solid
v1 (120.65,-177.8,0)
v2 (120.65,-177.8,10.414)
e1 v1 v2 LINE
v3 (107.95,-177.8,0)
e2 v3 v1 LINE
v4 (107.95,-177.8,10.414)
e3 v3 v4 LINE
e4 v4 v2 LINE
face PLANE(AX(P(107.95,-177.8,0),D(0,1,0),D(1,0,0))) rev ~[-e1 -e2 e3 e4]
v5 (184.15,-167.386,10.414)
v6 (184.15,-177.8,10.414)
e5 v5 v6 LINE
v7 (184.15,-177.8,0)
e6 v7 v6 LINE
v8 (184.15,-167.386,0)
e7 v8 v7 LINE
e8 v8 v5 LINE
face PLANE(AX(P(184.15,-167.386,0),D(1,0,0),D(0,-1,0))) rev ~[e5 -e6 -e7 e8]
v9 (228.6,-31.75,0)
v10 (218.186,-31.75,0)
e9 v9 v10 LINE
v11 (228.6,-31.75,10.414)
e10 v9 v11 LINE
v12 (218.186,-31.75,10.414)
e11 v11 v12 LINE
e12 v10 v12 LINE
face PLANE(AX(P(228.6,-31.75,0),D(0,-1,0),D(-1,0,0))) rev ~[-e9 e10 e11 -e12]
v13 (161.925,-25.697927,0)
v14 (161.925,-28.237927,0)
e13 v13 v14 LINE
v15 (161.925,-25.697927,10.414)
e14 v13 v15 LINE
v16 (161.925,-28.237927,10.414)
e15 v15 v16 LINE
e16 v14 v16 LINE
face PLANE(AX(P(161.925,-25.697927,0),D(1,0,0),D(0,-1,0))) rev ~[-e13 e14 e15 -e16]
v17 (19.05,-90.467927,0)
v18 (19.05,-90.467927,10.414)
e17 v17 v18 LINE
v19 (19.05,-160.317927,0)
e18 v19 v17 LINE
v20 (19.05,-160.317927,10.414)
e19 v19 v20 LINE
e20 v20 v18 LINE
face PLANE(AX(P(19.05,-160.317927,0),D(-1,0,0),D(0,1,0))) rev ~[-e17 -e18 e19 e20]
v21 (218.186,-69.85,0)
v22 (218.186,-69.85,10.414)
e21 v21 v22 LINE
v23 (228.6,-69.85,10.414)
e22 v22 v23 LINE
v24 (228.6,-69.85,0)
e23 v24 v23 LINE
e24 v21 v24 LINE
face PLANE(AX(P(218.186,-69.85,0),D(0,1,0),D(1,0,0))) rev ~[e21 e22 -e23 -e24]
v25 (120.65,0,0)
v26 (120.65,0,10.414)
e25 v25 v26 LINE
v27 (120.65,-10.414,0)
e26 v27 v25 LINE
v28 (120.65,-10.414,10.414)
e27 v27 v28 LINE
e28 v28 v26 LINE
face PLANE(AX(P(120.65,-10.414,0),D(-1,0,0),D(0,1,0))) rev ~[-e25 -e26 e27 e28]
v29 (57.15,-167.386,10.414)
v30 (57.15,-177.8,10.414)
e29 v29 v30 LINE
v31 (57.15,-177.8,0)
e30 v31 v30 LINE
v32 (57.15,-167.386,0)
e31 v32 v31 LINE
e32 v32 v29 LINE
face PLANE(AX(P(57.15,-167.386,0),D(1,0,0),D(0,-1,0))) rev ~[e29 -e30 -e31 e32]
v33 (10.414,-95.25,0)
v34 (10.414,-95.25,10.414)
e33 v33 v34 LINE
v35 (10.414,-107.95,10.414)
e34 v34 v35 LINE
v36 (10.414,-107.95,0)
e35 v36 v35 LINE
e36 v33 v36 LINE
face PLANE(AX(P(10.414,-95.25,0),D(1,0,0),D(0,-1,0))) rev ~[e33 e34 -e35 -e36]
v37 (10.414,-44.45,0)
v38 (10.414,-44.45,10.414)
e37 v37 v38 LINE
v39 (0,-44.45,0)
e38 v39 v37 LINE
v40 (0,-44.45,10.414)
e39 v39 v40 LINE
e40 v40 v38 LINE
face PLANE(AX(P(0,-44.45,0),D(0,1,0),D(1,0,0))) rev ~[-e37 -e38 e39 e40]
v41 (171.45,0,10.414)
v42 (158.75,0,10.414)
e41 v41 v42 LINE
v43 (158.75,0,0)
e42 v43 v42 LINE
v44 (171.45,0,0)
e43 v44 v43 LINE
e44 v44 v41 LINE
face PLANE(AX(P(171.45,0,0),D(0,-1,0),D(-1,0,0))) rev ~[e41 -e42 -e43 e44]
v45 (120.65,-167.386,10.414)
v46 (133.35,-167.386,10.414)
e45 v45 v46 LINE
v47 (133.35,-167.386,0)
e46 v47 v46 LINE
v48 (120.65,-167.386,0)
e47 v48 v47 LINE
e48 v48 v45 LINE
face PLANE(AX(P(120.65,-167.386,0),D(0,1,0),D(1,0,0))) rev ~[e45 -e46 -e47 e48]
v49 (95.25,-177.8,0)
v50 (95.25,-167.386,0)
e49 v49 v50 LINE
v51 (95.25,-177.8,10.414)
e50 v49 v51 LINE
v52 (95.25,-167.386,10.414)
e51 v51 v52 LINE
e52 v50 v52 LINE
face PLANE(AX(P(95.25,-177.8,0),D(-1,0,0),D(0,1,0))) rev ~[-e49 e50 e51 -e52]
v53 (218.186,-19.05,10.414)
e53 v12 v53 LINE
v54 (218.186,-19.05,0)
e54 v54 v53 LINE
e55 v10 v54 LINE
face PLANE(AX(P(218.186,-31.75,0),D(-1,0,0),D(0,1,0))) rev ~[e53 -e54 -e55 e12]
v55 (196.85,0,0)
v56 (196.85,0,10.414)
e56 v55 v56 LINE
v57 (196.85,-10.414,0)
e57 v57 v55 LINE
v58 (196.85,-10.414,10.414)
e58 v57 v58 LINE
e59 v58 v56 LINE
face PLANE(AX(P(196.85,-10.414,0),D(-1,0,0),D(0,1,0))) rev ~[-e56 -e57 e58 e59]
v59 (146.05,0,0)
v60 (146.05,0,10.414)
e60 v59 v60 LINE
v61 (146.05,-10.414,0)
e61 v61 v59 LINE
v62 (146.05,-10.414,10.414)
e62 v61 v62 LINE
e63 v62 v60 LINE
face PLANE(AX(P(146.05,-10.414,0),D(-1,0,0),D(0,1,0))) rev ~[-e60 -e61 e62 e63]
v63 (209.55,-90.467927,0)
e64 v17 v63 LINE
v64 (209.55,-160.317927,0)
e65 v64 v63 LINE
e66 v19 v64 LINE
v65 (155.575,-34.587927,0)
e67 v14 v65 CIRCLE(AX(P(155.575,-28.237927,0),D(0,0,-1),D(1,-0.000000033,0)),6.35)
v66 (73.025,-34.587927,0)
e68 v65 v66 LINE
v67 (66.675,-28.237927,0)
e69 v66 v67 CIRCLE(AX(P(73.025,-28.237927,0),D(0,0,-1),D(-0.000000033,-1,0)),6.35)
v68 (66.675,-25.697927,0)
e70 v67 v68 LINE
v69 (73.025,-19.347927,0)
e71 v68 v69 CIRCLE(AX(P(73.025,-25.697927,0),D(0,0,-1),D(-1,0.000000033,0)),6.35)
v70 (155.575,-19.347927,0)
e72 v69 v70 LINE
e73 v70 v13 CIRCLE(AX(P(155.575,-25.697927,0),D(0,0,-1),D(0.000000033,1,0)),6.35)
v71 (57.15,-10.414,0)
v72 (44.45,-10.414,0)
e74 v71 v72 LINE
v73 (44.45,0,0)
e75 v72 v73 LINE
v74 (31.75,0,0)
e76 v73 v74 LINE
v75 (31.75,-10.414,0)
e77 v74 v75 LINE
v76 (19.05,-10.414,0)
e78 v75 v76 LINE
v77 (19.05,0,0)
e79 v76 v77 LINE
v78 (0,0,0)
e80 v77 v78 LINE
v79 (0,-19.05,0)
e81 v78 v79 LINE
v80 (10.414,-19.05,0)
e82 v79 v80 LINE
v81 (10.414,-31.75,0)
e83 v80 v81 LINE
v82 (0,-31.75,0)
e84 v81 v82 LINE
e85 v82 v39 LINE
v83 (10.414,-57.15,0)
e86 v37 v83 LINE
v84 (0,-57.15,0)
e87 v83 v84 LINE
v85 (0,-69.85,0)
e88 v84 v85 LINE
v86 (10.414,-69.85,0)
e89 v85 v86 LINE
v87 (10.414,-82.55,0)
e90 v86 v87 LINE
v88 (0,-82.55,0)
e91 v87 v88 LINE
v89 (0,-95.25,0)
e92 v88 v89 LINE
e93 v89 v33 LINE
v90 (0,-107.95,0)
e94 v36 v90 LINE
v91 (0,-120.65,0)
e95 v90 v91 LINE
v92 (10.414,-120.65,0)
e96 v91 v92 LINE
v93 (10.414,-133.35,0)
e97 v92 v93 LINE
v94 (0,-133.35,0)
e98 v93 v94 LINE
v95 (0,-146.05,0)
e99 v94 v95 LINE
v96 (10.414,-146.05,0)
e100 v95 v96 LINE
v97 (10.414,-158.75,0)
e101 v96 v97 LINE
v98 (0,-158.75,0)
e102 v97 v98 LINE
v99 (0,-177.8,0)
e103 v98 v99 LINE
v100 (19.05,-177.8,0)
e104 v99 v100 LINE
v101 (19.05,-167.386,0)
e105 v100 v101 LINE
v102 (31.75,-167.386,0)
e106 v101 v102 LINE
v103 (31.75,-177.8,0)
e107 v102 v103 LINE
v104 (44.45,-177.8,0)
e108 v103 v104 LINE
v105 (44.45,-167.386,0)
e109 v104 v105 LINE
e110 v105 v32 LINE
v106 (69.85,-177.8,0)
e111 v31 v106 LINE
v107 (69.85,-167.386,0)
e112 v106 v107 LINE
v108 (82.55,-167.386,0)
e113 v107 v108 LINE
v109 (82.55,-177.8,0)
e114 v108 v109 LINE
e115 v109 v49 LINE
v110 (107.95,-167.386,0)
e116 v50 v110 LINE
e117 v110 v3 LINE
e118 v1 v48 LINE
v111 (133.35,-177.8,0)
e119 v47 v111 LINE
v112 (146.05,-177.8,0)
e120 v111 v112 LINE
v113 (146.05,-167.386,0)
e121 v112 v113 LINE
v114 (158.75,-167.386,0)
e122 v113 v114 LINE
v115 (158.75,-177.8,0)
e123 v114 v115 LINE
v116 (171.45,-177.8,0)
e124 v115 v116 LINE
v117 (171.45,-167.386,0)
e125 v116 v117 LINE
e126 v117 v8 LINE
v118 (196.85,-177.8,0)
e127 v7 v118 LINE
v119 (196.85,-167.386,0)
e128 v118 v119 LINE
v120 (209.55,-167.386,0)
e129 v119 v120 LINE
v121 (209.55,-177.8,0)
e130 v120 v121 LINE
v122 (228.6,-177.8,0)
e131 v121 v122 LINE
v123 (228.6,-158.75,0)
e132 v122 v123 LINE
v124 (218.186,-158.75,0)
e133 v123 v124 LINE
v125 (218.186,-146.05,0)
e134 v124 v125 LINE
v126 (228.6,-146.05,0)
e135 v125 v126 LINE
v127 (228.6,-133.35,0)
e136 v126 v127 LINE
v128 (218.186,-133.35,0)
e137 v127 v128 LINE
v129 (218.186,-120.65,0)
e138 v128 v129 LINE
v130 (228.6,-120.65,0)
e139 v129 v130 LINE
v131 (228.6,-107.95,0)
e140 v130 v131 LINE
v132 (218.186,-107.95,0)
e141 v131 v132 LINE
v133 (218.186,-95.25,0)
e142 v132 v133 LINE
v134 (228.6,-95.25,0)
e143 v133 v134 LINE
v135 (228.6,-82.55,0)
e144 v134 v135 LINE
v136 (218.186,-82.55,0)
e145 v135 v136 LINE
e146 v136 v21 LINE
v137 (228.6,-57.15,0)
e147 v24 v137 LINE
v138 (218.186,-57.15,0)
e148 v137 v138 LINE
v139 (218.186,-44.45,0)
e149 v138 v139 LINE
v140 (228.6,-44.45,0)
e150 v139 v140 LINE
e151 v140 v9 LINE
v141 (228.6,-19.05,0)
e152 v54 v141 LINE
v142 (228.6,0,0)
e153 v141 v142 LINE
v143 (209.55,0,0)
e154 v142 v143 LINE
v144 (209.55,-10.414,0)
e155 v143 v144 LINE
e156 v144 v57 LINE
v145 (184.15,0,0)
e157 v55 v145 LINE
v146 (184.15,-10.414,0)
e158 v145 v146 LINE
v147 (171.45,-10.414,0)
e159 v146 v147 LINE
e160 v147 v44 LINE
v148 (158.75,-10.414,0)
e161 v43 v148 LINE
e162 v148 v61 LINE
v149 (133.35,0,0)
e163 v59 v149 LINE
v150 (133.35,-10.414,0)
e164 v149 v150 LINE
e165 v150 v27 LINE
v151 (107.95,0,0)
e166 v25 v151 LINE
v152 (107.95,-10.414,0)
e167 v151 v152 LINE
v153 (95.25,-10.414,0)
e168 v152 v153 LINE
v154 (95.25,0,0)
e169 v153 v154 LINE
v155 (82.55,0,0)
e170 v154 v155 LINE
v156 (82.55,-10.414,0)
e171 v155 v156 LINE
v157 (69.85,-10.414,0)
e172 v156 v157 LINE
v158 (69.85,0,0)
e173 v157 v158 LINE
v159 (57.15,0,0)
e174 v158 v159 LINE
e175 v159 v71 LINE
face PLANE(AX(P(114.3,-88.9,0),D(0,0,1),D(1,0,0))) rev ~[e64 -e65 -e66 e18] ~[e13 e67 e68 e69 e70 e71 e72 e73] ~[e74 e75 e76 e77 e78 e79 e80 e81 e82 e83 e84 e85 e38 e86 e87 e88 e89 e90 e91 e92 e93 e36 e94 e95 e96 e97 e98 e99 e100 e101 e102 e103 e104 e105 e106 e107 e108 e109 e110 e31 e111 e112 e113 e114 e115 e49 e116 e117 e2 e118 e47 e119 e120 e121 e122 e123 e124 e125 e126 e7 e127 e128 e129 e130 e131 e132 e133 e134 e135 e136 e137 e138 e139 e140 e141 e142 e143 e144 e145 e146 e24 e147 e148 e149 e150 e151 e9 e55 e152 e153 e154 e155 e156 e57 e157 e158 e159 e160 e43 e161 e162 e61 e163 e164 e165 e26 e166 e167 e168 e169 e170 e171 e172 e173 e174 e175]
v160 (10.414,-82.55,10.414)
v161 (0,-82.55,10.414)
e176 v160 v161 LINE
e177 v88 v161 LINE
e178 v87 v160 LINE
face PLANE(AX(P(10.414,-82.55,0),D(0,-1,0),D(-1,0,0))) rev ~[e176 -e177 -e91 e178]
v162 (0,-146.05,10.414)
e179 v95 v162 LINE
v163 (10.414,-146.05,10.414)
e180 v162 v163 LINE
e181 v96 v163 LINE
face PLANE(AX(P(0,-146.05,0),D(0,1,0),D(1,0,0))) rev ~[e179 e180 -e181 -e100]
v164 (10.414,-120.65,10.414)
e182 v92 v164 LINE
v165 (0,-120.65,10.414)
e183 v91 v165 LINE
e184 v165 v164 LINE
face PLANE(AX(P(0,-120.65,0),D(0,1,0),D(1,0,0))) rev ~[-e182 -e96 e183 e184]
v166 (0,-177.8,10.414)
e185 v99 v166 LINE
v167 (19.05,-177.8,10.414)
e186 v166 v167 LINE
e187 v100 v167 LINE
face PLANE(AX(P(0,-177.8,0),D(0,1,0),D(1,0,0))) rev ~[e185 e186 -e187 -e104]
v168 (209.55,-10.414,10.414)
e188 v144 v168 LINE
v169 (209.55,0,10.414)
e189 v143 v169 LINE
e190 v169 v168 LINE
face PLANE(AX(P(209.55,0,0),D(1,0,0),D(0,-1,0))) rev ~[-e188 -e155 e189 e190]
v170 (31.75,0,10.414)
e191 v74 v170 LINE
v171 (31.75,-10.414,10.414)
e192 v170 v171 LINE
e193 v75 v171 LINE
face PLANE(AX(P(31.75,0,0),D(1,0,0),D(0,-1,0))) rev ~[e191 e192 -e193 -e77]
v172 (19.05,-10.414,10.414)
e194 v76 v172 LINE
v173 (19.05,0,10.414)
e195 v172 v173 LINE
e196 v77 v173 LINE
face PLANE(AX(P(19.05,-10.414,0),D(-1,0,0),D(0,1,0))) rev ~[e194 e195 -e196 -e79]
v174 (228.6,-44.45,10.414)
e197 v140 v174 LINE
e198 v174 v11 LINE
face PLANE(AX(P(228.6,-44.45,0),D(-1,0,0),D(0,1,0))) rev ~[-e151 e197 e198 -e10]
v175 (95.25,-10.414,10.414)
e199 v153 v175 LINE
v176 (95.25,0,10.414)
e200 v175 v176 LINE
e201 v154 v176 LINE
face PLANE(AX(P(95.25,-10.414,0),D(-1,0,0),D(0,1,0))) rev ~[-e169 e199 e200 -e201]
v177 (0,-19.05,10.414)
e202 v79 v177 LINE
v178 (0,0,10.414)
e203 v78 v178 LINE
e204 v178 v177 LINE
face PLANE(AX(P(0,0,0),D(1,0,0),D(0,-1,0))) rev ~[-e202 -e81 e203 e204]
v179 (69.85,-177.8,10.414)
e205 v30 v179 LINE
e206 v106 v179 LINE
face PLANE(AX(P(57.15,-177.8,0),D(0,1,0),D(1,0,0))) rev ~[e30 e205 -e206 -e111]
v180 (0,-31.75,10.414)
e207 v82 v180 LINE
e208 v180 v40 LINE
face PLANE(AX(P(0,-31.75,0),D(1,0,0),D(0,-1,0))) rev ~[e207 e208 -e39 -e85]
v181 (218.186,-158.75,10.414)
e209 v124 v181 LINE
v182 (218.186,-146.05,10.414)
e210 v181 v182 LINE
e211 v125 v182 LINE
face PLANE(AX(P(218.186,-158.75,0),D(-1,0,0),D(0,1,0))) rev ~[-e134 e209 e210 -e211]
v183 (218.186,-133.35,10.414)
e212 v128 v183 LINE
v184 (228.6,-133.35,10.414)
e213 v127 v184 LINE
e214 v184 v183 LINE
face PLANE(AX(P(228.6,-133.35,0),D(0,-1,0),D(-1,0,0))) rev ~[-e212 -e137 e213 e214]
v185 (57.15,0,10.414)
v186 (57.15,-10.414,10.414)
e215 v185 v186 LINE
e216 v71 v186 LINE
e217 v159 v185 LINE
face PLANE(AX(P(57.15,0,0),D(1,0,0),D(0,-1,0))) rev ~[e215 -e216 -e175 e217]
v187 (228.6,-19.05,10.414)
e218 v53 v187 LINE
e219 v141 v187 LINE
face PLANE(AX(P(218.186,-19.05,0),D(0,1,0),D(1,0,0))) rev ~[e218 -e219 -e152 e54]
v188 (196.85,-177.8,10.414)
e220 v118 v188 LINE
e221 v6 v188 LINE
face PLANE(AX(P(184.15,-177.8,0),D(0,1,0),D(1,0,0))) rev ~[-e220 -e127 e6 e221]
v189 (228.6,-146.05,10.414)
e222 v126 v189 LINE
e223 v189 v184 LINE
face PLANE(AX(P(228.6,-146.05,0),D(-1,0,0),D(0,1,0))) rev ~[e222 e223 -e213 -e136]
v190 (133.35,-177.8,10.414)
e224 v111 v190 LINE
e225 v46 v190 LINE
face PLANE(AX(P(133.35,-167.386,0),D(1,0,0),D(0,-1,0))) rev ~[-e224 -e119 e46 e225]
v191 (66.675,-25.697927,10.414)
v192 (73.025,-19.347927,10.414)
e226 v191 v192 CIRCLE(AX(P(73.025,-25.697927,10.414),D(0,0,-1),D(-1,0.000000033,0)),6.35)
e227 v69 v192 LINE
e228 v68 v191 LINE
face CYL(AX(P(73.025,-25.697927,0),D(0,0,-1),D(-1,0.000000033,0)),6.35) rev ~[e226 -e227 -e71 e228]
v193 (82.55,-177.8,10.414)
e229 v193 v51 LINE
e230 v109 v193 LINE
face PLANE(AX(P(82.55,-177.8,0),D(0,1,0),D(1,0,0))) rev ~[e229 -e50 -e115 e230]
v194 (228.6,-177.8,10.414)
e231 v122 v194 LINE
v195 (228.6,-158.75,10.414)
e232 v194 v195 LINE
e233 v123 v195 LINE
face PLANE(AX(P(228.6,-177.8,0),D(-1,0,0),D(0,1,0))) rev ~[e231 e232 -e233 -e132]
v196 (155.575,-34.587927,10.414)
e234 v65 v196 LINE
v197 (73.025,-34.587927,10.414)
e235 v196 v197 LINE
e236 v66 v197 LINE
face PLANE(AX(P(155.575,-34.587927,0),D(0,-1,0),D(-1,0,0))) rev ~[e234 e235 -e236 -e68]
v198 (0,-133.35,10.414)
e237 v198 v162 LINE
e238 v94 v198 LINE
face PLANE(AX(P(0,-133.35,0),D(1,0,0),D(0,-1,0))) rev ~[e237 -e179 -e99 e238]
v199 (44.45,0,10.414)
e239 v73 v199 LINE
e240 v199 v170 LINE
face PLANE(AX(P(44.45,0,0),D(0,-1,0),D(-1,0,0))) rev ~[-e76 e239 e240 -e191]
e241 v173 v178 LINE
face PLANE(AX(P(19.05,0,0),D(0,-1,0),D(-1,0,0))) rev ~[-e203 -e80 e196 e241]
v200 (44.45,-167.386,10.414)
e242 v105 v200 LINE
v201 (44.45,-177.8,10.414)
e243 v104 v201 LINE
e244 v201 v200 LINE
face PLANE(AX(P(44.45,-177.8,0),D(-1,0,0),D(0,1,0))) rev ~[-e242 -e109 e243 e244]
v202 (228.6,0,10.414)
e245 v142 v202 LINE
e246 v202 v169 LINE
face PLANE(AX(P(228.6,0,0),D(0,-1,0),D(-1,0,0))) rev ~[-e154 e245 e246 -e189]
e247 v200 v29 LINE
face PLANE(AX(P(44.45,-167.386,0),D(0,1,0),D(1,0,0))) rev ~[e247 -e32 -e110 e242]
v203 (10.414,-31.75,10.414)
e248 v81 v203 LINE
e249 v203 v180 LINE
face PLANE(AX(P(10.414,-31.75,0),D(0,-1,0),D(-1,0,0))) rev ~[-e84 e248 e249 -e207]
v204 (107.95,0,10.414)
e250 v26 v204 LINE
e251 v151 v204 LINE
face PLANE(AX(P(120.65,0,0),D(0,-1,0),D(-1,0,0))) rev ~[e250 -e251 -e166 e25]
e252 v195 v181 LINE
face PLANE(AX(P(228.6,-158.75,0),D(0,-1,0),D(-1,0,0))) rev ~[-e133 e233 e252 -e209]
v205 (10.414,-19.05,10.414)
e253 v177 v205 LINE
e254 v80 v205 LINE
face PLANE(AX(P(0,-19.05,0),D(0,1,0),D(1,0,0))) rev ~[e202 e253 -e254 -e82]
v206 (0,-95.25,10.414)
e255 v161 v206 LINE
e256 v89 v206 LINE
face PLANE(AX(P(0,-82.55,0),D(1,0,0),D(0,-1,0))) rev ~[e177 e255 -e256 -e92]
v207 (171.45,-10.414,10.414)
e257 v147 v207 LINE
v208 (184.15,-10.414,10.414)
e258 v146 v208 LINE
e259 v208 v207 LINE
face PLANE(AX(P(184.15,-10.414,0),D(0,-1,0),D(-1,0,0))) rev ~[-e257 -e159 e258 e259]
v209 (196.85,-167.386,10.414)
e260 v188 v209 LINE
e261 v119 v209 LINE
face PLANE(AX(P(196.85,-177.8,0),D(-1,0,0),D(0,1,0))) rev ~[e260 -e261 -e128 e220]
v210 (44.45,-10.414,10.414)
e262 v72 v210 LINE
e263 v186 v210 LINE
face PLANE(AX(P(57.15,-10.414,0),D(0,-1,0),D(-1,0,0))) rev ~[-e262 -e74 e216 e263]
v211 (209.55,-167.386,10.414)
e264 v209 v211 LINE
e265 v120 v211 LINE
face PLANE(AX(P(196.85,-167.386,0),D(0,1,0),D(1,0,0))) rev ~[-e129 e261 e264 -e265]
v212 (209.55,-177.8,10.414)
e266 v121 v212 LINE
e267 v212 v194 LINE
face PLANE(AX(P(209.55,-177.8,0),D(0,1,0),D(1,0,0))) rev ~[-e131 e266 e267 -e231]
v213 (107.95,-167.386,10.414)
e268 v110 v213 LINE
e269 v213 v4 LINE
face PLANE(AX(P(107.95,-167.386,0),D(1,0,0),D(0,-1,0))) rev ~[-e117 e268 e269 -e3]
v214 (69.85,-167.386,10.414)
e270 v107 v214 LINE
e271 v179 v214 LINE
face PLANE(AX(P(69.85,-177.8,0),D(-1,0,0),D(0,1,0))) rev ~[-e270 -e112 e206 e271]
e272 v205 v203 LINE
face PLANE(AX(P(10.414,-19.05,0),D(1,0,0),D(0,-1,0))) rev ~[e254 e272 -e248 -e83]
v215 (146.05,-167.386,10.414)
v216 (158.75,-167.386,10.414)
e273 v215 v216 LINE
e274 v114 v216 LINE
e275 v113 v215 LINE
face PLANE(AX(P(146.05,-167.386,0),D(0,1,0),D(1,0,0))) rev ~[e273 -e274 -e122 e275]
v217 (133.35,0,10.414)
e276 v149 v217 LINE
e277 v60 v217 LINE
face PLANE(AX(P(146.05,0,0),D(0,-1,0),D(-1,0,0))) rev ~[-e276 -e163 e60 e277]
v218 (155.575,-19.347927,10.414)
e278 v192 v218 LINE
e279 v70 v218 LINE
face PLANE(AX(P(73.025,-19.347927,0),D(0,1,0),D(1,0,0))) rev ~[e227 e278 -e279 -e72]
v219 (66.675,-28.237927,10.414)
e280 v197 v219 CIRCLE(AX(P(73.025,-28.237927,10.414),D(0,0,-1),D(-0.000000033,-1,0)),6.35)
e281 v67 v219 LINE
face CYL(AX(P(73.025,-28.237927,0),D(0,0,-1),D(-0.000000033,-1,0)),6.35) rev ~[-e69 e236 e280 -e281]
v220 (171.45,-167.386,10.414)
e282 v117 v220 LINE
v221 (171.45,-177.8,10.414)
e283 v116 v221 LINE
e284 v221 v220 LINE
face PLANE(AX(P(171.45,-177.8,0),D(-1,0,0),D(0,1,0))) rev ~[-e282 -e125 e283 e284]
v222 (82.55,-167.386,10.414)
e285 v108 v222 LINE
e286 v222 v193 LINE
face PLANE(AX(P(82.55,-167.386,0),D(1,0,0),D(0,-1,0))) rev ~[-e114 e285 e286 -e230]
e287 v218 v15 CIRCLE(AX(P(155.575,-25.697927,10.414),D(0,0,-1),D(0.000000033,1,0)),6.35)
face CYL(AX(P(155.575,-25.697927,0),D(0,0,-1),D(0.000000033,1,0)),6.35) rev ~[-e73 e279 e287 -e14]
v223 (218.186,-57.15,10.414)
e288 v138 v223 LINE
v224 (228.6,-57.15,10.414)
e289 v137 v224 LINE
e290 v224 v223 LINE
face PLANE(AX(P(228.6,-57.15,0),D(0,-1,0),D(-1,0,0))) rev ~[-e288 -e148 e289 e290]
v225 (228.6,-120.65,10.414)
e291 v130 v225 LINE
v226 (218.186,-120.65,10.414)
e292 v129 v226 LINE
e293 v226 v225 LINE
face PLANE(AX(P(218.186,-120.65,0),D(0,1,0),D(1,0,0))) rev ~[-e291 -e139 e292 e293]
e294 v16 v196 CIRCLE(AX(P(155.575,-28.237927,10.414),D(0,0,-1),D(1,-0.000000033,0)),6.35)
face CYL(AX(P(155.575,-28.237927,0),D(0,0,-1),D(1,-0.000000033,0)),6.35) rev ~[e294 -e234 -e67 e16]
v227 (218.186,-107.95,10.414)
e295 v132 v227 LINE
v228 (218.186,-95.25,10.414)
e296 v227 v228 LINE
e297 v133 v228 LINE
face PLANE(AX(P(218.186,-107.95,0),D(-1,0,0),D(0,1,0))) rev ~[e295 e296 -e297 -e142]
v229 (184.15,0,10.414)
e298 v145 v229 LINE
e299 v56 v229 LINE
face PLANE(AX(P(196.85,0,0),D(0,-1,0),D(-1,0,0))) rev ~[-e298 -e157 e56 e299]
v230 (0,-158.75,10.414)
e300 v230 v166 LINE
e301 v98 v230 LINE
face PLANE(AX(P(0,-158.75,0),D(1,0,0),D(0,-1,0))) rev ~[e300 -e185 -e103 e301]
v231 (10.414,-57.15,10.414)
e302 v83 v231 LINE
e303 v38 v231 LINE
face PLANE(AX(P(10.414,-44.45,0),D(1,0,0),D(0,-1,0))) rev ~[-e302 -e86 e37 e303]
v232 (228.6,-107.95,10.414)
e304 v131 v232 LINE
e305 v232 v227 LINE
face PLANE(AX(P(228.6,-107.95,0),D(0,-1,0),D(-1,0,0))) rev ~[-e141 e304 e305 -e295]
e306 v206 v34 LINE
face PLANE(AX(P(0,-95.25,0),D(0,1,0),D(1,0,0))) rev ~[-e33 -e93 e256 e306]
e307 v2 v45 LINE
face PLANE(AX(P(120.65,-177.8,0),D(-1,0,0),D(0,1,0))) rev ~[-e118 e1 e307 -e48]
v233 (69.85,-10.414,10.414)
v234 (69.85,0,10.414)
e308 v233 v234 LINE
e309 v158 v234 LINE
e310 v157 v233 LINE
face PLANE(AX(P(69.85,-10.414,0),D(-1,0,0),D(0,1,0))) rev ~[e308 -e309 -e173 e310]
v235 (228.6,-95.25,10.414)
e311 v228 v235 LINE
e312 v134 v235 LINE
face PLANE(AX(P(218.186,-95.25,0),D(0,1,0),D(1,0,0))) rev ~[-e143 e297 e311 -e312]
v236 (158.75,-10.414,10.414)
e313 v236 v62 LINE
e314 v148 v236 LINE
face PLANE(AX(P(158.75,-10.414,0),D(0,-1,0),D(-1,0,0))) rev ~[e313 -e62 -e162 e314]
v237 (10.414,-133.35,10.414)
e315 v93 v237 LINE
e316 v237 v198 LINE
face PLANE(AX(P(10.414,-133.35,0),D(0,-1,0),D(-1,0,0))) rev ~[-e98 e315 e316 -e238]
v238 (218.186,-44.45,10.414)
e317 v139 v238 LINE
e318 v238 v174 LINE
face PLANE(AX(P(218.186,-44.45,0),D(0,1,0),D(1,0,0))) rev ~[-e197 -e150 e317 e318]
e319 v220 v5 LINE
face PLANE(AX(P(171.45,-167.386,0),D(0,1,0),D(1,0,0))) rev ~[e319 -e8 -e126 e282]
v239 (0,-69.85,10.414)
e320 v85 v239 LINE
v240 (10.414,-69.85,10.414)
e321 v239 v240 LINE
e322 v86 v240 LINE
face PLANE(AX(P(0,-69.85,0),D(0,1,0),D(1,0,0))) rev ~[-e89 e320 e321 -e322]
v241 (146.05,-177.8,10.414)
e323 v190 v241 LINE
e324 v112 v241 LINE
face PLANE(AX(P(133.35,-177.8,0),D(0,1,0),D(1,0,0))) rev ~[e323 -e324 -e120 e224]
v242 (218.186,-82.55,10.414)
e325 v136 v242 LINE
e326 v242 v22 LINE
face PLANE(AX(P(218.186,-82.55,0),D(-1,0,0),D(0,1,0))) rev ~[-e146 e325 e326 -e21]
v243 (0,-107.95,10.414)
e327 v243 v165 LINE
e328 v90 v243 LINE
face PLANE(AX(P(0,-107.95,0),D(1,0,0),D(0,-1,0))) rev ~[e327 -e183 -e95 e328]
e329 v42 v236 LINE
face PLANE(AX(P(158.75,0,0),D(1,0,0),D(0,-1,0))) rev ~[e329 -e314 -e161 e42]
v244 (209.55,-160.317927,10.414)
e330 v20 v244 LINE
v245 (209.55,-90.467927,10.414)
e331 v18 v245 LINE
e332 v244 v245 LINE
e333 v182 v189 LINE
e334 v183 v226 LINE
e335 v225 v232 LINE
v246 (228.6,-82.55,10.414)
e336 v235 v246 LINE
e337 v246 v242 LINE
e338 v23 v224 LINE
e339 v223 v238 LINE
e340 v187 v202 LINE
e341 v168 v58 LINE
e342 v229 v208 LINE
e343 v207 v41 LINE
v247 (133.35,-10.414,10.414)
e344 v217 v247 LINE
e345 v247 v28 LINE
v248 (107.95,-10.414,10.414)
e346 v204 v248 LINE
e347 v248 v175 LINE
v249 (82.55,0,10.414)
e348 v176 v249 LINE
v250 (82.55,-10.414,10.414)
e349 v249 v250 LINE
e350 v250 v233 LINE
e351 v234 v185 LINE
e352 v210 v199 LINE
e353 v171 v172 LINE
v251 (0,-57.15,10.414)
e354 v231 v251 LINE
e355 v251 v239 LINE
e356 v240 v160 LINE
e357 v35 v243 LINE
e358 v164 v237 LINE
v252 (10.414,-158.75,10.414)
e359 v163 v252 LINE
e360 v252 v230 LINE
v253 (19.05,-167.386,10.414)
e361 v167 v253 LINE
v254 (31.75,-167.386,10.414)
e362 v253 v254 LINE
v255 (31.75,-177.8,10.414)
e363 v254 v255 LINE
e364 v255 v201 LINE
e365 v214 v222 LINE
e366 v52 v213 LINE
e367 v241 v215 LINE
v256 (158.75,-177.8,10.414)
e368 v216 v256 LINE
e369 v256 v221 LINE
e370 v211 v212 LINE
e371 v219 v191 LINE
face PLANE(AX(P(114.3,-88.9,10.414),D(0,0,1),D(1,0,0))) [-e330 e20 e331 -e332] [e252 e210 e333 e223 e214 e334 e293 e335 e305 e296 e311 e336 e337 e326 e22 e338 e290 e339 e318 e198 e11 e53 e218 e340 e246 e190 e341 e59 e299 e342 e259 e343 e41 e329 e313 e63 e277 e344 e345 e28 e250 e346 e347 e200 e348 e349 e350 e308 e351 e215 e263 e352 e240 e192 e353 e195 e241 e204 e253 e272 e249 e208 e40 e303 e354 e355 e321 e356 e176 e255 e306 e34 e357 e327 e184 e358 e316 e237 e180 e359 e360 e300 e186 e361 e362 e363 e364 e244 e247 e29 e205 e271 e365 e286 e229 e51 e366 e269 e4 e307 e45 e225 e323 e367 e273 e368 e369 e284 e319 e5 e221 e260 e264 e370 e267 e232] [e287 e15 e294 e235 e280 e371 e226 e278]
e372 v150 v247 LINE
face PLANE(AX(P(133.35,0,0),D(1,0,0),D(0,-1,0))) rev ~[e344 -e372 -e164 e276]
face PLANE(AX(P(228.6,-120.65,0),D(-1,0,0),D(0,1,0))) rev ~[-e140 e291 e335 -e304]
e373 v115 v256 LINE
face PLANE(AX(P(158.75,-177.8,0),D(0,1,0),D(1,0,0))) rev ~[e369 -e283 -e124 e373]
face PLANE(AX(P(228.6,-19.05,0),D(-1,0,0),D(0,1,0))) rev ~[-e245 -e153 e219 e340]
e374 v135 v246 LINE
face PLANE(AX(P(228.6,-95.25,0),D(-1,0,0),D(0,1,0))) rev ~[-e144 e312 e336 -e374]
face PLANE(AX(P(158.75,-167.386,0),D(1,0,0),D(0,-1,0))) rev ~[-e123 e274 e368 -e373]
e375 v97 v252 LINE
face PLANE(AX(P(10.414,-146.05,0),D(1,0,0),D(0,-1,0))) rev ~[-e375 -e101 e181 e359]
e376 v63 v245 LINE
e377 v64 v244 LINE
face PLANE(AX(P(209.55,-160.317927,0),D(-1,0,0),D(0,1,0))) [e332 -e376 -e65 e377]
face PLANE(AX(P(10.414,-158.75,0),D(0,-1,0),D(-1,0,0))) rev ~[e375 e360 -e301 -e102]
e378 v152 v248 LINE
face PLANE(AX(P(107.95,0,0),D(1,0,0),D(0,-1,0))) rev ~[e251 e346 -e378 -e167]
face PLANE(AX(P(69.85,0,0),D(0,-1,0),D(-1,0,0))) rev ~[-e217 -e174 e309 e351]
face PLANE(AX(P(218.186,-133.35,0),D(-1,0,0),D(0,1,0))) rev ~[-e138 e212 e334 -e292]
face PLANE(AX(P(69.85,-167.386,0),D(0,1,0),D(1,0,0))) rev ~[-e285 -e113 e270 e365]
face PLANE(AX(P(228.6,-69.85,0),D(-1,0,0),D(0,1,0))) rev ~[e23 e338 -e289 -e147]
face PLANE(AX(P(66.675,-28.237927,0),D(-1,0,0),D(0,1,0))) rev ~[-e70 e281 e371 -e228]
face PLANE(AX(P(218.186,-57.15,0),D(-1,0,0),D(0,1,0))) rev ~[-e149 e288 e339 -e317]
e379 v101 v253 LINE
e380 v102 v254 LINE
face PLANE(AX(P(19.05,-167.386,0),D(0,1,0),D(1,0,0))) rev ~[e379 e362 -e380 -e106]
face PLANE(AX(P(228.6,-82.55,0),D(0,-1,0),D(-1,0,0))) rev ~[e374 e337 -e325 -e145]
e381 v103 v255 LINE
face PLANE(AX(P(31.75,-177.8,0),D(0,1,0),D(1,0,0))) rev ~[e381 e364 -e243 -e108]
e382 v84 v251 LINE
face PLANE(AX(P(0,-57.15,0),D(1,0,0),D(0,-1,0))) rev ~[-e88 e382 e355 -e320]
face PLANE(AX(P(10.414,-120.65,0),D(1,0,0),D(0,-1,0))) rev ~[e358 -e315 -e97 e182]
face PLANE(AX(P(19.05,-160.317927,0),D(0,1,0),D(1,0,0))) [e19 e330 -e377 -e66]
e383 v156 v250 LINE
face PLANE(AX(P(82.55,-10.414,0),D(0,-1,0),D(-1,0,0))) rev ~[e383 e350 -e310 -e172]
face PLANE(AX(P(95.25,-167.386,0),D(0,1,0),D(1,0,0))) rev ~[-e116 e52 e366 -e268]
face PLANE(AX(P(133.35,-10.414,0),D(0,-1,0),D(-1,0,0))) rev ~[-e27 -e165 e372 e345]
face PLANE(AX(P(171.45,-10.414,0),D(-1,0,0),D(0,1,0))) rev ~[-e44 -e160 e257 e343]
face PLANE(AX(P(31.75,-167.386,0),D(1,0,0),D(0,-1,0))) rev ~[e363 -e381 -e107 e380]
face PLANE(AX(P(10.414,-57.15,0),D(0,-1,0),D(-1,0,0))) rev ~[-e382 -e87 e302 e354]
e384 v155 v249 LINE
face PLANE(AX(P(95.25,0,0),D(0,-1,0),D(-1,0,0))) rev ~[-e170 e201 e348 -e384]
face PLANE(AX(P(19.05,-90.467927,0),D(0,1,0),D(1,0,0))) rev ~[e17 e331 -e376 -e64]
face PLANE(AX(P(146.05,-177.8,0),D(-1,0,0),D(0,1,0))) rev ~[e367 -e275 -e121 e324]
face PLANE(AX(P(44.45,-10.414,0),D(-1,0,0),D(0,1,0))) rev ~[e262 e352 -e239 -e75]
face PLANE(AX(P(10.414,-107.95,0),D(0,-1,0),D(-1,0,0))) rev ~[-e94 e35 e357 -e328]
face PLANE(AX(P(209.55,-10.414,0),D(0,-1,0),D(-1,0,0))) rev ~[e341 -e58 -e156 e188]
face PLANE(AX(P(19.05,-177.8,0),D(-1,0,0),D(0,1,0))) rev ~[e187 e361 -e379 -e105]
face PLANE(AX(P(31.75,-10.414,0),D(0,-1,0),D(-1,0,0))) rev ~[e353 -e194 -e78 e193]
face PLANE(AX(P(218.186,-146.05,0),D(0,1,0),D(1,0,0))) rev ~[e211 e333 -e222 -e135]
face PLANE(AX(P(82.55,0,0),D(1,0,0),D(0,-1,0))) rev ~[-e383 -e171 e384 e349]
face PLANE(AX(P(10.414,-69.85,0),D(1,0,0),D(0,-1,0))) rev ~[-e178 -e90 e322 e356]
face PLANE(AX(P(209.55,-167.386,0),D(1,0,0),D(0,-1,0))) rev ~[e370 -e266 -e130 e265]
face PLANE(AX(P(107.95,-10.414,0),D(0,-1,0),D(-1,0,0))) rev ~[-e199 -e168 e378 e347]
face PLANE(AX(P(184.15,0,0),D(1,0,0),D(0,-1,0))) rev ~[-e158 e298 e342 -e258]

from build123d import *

# Parameters (mm, degrees)
F0_W     = 190.5
F0_H     = 69.85
F1_DEPTH = 10.414


with BuildPart() as f1:
    # F0 (on Top) → F1 (new body)
    with BuildSketch(Plane.XY):
        Polygon((19.05, 0), (0, 0), (0, -19.05), (10.414, -19.05), (10.414, -31.75), (0, -31.75), (0, -44.45), (10.414, -44.45), (10.414, -57.15), (0, -57.15), (0, -69.85), (10.414, -69.85), (10.414, -82.55), (0, -82.55), (0, -95.25), (10.414, -95.25), (10.414, -107.95), (0, -107.95), (0, -120.65), (10.414, -120.65), (10.414, -133.35), (0, -133.35), (0, -146.05), (10.414, -146.05), (10.414, -158.75), (0, -158.75), (0, -177.8), (19.05, -177.8), (19.05, -167.386), (31.75, -167.386), (31.75, -177.8), (44.45, -177.8), (44.45, -167.386), (57.15, -167.386), (57.15, -177.8), (69.85, -177.8), (69.85, -167.386), (82.55, -167.386), (82.55, -177.8), (95.25, -177.8), (95.25, -167.386), (107.95, -167.386), (107.95, -177.8), (120.65, -177.8), (120.65, -167.386), (133.35, -167.386), (133.35, -177.8), (146.05, -177.8), (146.05, -167.386), (158.75, -167.386), (158.75, -177.8), (171.45, -177.8), (171.45, -167.386), (184.15, -167.386), (184.15, -177.8), (196.85, -177.8), (196.85, -167.386), (209.55, -167.386), (209.55, -177.8), (228.6, -177.8), (228.6, -158.75), (218.186, -158.75), (218.186, -146.05), (228.6, -146.05), (228.6, -133.35), (218.186, -133.35), (218.186, -120.65), (228.6, -120.65), (228.6, -107.95), (218.186, -107.95), (218.186, -95.25), (228.6, -95.25), (228.6, -82.55), (218.186, -82.55), (218.186, -69.85), (228.6, -69.85), (228.6, -57.15), (218.186, -57.15), (218.186, -44.45), (228.6, -44.45), (228.6, -31.75), (218.186, -31.75), (218.186, -19.05), (228.6, -19.05), (228.6, 0), (209.55, 0), (209.55, -10.414), (196.85, -10.414), (196.85, 0), (184.15, 0), (184.15, -10.414), (171.45, -10.414), (171.45, 0), (158.75, 0), (158.75, -10.414), (146.05, -10.414), (146.05, 0), (133.35, 0), (133.35, -10.414), (120.65, -10.414), (120.65, 0), (107.95, 0), (107.95, -10.414), (95.25, -10.414), (95.25, 0), (82.55, 0), (82.55, -10.414), (69.85, -10.414), (69.85, 0), (57.15, 0), (57.15, -10.414), (44.45, -10.414), (44.45, 0), (31.75, 0), (31.75, -10.414), (19.05, -10.414), align=None)
        with Locations((114.3, -125.392927)):
            Rectangle(F0_W, F0_H, mode=Mode.SUBTRACT)
        with BuildLine():
            ThreePointArc((66.675, -25.697927), (68.534872, -21.207799), (73.025, -19.347927))
            Line((73.025, -19.347927), (155.575, -19.347927))
            ThreePointArc((155.575, -19.347927), (160.065128, -21.207799), (161.925, -25.697927))
            Line((161.925, -25.697927), (161.925, -28.237927))
            ThreePointArc((161.925, -28.237927), (160.065128, -32.728055), (155.575, -34.587927))
            Line((155.575, -34.587927), (73.025, -34.587927))
            ThreePointArc((73.025, -34.587927), (68.534872, -32.728055), (66.675, -28.237927))
            Line((66.675, -28.237927), (66.675, -25.697927))
        make_face(mode=Mode.SUBTRACT)
    extrude(amount=F1_DEPTH)


solid = f1.part
